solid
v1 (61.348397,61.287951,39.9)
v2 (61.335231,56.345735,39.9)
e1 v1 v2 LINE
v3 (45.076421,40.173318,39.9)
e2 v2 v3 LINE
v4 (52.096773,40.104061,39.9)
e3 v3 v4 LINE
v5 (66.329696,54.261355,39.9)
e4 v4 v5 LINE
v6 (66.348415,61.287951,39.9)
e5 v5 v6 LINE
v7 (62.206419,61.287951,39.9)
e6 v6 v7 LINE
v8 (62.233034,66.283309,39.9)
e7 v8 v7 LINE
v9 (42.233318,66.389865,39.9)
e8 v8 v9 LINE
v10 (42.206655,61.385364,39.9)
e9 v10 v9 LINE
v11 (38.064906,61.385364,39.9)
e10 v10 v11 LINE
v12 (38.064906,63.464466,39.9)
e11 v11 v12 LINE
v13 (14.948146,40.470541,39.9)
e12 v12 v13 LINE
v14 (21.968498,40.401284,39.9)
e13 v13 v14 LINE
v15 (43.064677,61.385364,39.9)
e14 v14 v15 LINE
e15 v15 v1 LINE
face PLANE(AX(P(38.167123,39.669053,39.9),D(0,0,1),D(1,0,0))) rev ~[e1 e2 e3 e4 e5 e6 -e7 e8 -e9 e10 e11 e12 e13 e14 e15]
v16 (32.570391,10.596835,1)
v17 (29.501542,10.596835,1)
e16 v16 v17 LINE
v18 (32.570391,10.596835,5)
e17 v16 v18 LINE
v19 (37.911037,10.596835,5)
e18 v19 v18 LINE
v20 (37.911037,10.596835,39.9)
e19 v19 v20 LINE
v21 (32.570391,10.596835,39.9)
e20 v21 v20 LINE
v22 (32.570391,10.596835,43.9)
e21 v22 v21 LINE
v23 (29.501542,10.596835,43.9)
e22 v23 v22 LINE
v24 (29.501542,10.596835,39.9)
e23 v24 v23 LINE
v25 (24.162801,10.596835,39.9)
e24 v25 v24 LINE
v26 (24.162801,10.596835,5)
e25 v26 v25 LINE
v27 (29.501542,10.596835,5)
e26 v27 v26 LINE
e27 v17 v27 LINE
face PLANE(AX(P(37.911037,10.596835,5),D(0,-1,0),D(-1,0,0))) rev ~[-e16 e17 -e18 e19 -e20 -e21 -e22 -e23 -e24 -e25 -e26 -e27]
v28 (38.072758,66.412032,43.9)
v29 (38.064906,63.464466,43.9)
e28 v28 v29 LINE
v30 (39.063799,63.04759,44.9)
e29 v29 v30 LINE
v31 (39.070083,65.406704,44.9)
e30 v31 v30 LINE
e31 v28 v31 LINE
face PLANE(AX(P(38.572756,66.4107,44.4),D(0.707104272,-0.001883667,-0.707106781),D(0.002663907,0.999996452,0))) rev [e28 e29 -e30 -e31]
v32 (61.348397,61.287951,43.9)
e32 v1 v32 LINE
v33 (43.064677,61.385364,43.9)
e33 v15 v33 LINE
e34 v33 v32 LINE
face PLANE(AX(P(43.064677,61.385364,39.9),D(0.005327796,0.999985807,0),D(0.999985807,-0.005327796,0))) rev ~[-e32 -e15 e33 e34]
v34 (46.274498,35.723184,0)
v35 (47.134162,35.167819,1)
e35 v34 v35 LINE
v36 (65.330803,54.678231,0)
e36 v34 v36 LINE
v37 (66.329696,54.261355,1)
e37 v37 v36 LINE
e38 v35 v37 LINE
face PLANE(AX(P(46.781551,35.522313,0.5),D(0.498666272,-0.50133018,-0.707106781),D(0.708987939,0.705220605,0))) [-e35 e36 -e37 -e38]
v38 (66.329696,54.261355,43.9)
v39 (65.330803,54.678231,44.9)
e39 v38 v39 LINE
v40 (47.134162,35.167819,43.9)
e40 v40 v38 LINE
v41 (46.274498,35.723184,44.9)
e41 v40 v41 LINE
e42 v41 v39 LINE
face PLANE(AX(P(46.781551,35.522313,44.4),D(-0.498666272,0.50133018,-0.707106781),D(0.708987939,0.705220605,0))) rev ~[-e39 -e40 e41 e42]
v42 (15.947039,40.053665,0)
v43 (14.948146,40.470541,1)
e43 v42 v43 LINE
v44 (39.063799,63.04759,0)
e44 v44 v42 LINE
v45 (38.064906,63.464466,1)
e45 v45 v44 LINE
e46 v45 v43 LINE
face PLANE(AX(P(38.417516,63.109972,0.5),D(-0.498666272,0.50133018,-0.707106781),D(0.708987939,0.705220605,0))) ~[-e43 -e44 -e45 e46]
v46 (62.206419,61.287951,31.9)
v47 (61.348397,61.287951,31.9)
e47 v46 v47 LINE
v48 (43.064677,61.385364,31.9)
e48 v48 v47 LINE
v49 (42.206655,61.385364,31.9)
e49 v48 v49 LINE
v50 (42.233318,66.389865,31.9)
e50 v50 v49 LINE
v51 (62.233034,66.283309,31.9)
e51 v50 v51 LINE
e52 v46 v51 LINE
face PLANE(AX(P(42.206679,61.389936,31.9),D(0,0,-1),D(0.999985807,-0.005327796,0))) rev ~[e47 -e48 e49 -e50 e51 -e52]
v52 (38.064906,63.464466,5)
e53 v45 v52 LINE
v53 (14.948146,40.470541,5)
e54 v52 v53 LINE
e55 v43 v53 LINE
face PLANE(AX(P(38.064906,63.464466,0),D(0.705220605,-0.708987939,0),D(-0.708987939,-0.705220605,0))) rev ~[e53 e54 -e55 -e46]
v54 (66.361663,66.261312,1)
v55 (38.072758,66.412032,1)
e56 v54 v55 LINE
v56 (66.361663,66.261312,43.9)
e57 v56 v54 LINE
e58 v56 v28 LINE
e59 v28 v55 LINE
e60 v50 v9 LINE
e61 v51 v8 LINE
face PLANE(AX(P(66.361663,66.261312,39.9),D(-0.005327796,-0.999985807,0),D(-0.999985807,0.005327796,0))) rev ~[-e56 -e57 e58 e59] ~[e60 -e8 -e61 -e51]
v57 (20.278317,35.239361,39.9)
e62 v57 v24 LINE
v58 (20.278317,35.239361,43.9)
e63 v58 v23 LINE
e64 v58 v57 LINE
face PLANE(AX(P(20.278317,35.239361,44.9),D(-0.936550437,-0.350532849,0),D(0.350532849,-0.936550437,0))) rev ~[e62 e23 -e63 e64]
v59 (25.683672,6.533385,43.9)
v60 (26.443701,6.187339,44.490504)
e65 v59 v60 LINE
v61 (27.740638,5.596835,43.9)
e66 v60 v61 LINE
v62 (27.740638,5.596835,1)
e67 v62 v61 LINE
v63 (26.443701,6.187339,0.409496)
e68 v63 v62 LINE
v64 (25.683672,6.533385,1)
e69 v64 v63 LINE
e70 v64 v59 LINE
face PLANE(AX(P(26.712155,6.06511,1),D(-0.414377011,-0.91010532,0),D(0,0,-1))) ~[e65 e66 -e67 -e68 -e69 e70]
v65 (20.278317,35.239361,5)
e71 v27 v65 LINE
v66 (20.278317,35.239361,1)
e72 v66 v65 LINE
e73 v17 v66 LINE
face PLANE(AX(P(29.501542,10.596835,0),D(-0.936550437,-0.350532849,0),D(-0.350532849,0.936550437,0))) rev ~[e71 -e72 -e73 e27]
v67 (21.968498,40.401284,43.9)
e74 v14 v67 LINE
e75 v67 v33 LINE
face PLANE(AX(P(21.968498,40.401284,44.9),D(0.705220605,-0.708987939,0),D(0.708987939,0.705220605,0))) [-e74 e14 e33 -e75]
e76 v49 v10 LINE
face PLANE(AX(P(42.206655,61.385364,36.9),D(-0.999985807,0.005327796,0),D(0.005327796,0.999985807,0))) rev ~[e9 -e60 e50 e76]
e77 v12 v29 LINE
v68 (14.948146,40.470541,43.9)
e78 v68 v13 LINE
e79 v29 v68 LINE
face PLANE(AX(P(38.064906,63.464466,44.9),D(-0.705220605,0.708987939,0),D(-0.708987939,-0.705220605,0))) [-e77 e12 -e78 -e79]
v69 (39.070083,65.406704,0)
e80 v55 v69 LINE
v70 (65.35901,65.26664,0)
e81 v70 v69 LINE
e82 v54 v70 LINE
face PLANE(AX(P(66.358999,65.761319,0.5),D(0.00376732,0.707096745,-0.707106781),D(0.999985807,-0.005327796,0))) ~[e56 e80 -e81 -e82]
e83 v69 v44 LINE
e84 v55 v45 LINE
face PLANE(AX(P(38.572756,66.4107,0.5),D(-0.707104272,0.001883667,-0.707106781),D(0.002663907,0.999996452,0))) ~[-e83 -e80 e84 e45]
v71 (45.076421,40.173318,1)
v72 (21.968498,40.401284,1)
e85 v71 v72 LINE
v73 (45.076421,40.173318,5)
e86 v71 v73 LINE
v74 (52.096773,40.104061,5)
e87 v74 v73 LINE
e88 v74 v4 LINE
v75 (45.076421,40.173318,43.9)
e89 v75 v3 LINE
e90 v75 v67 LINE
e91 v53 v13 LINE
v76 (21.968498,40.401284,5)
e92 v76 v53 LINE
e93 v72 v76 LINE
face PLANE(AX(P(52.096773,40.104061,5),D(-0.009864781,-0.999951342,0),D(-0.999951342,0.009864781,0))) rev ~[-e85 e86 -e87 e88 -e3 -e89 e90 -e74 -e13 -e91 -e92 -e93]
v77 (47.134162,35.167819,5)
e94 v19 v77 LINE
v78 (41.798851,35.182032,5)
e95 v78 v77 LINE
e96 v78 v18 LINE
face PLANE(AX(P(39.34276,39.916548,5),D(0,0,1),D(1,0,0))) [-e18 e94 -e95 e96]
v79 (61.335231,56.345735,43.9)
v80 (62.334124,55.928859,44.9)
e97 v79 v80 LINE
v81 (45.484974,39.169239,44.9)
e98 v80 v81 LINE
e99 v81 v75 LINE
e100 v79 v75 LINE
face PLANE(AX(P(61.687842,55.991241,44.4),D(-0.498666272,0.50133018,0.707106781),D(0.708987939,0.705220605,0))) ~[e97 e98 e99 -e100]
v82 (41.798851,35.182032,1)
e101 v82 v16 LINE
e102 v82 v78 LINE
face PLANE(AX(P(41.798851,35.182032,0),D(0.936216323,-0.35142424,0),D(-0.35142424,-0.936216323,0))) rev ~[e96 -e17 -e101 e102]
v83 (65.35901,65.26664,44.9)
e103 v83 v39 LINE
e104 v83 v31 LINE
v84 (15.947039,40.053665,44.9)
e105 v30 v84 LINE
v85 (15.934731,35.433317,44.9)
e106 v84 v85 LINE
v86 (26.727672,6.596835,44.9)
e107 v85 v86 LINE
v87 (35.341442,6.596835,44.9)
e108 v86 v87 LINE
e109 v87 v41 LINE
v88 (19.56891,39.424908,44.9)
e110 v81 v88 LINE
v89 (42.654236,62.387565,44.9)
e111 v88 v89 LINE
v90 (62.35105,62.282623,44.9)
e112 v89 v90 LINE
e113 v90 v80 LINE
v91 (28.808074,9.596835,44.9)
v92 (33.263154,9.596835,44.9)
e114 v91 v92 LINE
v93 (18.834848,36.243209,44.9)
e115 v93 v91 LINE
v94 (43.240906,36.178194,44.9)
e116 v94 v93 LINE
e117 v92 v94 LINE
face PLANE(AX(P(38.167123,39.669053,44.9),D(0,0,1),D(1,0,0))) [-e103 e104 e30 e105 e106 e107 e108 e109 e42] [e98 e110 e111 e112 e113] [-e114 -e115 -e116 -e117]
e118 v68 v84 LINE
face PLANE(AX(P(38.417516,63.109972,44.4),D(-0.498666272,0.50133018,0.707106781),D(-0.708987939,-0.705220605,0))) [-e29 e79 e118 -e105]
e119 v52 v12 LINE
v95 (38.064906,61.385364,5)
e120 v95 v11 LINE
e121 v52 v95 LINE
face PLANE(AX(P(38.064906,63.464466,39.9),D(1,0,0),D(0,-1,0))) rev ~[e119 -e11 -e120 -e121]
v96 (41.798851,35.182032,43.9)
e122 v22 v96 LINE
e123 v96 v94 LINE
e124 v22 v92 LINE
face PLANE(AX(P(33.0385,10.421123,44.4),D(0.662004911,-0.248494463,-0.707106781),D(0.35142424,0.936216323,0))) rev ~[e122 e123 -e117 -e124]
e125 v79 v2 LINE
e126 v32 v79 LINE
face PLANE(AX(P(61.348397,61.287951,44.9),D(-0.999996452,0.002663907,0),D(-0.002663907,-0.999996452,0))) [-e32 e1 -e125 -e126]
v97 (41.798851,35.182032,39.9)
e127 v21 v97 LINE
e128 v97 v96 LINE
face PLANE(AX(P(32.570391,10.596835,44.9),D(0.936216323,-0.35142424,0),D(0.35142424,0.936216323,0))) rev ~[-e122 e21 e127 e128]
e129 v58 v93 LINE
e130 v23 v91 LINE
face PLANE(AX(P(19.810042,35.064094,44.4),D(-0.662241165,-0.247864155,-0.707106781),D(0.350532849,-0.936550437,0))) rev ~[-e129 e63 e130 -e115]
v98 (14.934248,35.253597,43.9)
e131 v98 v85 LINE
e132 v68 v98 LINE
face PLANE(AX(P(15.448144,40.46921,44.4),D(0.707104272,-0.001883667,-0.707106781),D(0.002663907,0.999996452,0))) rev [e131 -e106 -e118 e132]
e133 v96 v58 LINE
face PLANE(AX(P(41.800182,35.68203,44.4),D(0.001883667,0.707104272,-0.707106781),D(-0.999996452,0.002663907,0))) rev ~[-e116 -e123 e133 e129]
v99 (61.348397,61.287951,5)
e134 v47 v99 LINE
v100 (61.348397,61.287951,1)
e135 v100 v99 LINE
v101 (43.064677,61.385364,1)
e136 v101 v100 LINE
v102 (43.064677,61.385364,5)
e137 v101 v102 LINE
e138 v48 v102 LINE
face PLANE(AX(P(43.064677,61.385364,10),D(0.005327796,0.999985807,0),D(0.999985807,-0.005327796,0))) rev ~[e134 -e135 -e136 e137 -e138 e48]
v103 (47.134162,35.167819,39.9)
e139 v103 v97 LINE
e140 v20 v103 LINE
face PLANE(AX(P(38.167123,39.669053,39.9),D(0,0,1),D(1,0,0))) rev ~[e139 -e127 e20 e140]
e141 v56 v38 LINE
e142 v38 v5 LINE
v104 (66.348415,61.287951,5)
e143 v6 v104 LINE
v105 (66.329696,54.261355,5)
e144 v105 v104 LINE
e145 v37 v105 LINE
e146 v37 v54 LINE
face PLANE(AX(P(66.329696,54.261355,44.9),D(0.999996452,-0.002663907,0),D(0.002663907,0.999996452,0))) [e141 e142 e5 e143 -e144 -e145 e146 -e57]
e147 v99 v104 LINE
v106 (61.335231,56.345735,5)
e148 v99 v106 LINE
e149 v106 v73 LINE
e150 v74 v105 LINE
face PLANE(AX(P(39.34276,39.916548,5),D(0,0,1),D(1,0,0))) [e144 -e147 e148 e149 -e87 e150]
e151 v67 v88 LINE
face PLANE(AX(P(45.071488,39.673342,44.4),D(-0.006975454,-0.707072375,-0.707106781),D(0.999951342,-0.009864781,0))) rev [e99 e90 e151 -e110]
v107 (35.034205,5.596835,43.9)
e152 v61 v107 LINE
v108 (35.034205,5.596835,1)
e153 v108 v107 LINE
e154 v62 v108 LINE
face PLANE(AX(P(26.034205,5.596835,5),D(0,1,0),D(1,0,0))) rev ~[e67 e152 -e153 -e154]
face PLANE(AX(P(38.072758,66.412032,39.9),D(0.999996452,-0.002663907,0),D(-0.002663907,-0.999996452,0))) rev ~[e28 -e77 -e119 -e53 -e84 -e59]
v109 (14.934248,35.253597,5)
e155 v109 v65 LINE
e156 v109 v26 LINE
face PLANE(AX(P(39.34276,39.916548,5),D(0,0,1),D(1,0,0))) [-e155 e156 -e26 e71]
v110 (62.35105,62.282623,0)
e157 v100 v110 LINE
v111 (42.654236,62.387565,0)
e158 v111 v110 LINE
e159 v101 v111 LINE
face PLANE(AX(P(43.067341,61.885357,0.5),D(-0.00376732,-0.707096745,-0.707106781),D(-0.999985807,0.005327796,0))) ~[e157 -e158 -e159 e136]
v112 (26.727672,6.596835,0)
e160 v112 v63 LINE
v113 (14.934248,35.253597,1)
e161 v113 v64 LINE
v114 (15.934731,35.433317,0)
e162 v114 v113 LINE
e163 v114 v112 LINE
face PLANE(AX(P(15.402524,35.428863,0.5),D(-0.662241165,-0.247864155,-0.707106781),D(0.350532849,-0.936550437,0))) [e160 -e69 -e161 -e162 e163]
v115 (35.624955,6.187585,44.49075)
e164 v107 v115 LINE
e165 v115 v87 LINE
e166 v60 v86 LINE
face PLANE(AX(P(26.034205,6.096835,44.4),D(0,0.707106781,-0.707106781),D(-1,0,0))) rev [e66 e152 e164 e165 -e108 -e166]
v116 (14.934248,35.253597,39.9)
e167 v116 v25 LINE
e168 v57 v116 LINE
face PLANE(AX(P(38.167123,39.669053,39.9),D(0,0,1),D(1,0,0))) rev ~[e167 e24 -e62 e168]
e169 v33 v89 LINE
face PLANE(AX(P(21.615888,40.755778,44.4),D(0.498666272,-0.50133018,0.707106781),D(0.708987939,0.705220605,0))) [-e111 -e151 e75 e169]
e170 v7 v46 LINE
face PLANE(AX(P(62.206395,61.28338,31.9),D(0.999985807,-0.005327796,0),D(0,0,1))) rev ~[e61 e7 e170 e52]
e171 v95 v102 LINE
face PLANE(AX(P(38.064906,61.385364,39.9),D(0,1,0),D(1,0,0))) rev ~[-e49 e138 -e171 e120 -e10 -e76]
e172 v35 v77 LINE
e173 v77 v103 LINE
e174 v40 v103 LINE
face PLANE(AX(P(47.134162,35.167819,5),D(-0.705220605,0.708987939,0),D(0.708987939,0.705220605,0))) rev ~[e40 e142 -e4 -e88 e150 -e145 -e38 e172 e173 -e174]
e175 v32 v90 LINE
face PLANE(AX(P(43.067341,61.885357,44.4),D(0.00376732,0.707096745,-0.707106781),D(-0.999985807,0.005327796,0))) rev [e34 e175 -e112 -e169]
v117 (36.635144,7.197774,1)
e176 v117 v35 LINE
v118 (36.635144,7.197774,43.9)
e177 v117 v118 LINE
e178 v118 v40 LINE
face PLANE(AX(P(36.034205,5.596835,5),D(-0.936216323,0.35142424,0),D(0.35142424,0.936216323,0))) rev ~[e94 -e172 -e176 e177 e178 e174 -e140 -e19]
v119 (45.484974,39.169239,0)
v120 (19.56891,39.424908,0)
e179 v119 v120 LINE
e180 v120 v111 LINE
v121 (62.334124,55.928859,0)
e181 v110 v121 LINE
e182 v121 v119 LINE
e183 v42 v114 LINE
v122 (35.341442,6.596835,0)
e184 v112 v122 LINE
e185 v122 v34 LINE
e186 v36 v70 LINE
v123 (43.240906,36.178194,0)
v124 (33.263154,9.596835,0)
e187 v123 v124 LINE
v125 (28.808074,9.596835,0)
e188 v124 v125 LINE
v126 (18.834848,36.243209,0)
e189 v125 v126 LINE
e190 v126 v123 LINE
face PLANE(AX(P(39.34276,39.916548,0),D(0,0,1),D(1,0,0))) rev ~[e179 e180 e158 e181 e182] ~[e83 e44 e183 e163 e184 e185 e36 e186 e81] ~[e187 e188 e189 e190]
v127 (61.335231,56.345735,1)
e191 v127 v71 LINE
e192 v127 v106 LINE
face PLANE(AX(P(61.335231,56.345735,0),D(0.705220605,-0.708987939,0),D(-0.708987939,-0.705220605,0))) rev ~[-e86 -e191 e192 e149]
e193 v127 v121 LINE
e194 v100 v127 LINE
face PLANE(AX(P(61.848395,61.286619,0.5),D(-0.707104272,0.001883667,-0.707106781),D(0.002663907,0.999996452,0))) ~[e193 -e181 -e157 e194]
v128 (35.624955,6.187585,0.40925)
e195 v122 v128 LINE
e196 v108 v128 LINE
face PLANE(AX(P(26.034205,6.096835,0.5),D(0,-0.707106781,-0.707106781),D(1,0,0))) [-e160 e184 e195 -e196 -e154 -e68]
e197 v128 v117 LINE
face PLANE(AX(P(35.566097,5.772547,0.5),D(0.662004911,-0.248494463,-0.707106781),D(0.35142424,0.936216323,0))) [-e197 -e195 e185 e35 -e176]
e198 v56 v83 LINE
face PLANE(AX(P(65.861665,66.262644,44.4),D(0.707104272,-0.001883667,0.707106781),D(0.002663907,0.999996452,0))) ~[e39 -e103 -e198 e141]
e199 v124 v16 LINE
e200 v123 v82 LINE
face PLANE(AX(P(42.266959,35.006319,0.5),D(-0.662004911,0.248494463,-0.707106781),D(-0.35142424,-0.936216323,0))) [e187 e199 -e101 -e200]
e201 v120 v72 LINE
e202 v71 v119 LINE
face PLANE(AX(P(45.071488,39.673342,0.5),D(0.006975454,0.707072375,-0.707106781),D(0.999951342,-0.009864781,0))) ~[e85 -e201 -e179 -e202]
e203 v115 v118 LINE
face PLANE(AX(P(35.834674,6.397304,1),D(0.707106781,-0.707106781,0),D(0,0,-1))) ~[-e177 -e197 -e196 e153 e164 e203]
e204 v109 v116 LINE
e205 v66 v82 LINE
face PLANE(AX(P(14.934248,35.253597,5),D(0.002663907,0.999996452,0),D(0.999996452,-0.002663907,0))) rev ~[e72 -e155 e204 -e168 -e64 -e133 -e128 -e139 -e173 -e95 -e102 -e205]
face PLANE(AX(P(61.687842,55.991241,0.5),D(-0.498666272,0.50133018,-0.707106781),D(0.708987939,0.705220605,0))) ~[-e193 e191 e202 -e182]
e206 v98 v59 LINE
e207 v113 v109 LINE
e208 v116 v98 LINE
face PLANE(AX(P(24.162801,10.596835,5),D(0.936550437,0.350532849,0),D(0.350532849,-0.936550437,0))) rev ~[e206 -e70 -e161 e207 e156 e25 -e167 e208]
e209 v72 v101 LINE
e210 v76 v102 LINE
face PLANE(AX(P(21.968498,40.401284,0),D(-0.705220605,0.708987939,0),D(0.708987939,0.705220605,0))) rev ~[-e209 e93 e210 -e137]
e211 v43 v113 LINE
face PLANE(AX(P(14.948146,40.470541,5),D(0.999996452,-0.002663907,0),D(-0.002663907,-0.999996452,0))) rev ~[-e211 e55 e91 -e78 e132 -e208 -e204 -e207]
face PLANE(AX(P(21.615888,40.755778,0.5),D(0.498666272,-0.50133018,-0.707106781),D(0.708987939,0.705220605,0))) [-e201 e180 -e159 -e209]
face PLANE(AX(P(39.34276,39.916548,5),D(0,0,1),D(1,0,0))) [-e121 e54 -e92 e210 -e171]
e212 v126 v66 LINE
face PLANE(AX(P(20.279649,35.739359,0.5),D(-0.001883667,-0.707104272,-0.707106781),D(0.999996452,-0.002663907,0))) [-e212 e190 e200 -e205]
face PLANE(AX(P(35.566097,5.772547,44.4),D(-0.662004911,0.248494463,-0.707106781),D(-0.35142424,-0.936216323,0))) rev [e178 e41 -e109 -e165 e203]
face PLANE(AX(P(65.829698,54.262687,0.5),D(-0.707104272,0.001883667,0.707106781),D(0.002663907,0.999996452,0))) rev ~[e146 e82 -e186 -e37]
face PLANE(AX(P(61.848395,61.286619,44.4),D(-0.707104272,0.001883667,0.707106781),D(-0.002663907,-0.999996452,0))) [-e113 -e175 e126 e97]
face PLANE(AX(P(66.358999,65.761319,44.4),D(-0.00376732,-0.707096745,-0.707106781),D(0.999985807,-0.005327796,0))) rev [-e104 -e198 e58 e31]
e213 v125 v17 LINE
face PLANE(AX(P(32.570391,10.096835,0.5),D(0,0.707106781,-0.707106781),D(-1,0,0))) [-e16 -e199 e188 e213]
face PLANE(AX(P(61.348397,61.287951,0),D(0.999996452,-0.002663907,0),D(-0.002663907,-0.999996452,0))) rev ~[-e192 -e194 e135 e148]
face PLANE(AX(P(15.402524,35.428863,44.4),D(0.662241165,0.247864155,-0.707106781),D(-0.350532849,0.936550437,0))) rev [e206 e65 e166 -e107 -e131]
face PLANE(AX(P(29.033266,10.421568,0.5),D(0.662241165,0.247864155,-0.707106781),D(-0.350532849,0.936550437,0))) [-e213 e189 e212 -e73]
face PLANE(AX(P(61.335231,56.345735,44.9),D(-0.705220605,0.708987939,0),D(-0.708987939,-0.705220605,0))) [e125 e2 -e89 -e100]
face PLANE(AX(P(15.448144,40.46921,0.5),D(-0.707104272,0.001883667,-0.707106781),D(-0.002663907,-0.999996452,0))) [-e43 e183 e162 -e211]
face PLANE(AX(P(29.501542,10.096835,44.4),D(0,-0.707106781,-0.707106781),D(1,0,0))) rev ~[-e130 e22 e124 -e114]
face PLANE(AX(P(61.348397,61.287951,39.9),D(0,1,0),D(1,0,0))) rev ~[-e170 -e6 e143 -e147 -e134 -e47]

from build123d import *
from OCP.BRepFilletAPI import BRepFilletAPI_MakeChamfer

# Parameters (mm, degrees)
BOSS_EXTRUDE1_DEPTH  = 5
BOSS_EXTRUDE3_DEPTH  = 5
BOSS_EXTRUDE4_DEPTH  = 26.9
SKETCH5_W            = 19.999999999999993
SKETCH5_H            = 5.000000000000007
CUT_EXTRUDE2_DEPTH   = 5.899999999999998
CUT_EXTRUDE3_DEPTH   = 2.949999999999999
BOSS_EXTRUDE5_DEPTH  = 3
BOSS_EXTRUDE6_DEPTH  = 5
BOSS_EXTRUDE7_DEPTH  = 5
BOSS_EXTRUDE8_DEPTH  = 35.00000000000001
BOSS_EXTRUDE10_DEPTH = 35.00000000000001
CHAMFER2_SIZE        = 1
CHAMFER3_SIZE        = 1
CHAMFER3_SIZE2       = 1.7100094702429673
CHAMFER3_SIZE2_2     = 1.7064334239442103


with BuildPart() as part:
    # Model → Boss-Extrude1 (new body)
    with BuildSketch(Plane.XY):
        Polygon((66.34301586992632, 59.26133691593834), (66.3616632211768, 66.2613120784865), (38.072757817888686, 66.41203172728402), (38.064905748927345, 63.464466308167324), (14.948145869822214, 40.47054145556226), (14.934248363068548, 35.253596657867014), (26.03420495541168, 5.596834863804027), (36.03420495541168, 5.596834863804027), (47.134161547754815, 35.167818769025025), (66.32969633331885, 54.261354656975335), align=None)
        Polygon((20.278317449078216, 35.23936050258937), (41.79885052391343, 35.18203159355395), (32.57039139015228, 10.596834863804013), (29.501541711242254, 10.596834863804041), align=None, mode=Mode.SUBTRACT)
        Polygon((43.06467722097951, 61.38536445785425), (61.3483968604827, 61.28795115170147), (61.3352312070632, 56.345734656870185), (45.076420621075016, 40.17331816069535), (21.96849830021793, 40.4012838462993), align=None, mode=Mode.SUBTRACT)
    extrude(amount=BOSS_EXTRUDE1_DEPTH)

    # Sketch3 → Boss-Extrude3 (add)
    with BuildSketch(Plane.XY.offset(5)):
        Polygon((66.36166322117678, 66.2613120784865), (38.072757817888686, 66.41203172728402), (38.064905748927345, 63.464466308167324), (38.064905748927345, 61.38536445785425), (43.06467722097951, 61.38536445785425), (61.3483968604827, 61.28795115170147), (66.34841460158263, 61.28795115170147), align=None)
    extrude(amount=BOSS_EXTRUDE3_DEPTH)

    # Sketch4 → Boss-Extrude4 (add)
    with BuildSketch(Plane.XY.offset(10)):
        Polygon((66.34841460158263, 61.28795115170147), (66.36166322117678, 66.2613120784865), (38.072757817888686, 66.41203172728402), (38.064905748927345, 63.464466308167324), (38.064905748927345, 61.38536445785425), (43.06467722097951, 61.38536445785425), (61.3483968604827, 61.28795115170147), align=None)
    extrude(amount=BOSS_EXTRUDE4_DEPTH)

    # Sketch5 → Cut-Extrude2 (cut)
    with BuildSketch(Plane(origin=(0.3282664498542539, 61.613058556670126, 0), x_dir=(0.999985807195565, -0.005327795738801082, 0), z_dir=(-0.005327795738801082, -0.999985807195565, 0))):
        with Locations((51.87900689947605, 34.400000000000006)):
            Rectangle(SKETCH5_W, SKETCH5_H)
    extrude(amount=-CUT_EXTRUDE2_DEPTH, mode=Mode.SUBTRACT)

    # Sketch7 → Cut-Extrude3 (cut, symmetric)
    with BuildSketch(Plane(origin=(0.32826644985427067, 61.61305855667014, 0), x_dir=(0.999985807195565, -0.005327795738801352, 0), z_dir=(0.005327795738801352, 0.999985807195565, 0))):
        Polygon((42.73701732925542, -31.9), (41.87900689947603, -31.9), (41.87900689947603, -36.900000000000006), (42.73701732945169, -36.900000000000006), align=None)
    extrude(amount=CUT_EXTRUDE3_DEPTH, both=True, mode=Mode.SUBTRACT)

    # Sketch8 → Boss-Extrude5 (add)
    with BuildSketch(Plane.XY.offset(36.900000000000006)):
        Polygon((38.064905748927345, 61.38536445785425), (42.20665461345415, 61.385364457854244), (42.23331794746946, 66.38986479814373), (38.072757817888686, 66.41203172728402), (38.064905748927345, 63.464466308167324), align=None)
        Polygon((66.36166322117678, 66.2613120784865), (62.23303409138075, 66.28330888336767), (62.20641946800804, 61.28795115170146), (66.34841460158263, 61.28795115170147), align=None)
    extrude(amount=BOSS_EXTRUDE5_DEPTH)

    # Sketch9 → Boss-Extrude6 (add)
    with BuildSketch(Plane.XY.offset(39.900000000000006)):
        Polygon((62.233034091380745, 66.28330888336767), (42.23331794746946, 66.38986479814372), (42.20665461345415, 61.38536445785425), (43.064677220980606, 61.38536445785425), (61.3483968604827, 61.28795115170147), (62.20641946800805, 61.28795115170147), align=None)
        Polygon((42.23331794746946, 66.38986479814373), (38.072757817888686, 66.41203172728402), (38.064905748927345, 63.464466308167324), (38.064905748927345, 61.38536445785425), (42.20665461345415, 61.385364457854244), align=None)
        Polygon((62.20641946800804, 61.28795115170146), (66.34841460158263, 61.28795115170147), (66.36166322117678, 66.2613120784865), (62.23303409138075, 66.28330888336767), align=None)
    extrude(amount=BOSS_EXTRUDE6_DEPTH)

    # Sketch10 → Boss-Extrude7 (add)
    with BuildSketch(Plane.XY.offset(44.900000000000006)):
        Polygon((66.34841460158262, 61.28795115170147), (61.3483968604827, 61.28795115170147), (61.3352312070632, 56.34573465687018), (45.076420621075016, 40.17331816069535), (21.968498300217927, 40.4012838462993), (43.06467722097951, 61.38536445785425), (38.064905748927345, 61.38536445785425), (38.064905748927345, 63.464466308167324), (14.948145869822214, 40.470541455562255), (14.934248363068548, 35.25359665786701), (26.03420495541168, 5.596834863804027), (36.03420495541168, 5.596834863804027), (47.134161547754815, 35.16781876902502), (66.32969633331884, 54.261354656975335), align=None)
        Polygon((29.50154171124225, 10.596834863804041), (32.57039139015229, 10.596834863804013), (41.79885052391343, 35.18203159355396), (20.278317449078216, 35.23936050258938), align=None, mode=Mode.SUBTRACT)
    extrude(amount=-BOSS_EXTRUDE7_DEPTH)

    # Sketch11 → Boss-Extrude8 (add)
    with BuildSketch(Plane.XY.offset(5)):
        Polygon((24.162800944848858, 10.596834863804041), (26.03420495541168, 5.596834863804027), (36.03420495541168, 5.596834863804027), (37.91103743212602, 10.596834863804041), align=None)
    extrude(amount=BOSS_EXTRUDE8_DEPTH)

    # Sketch12 → Boss-Extrude10 (add)
    with BuildSketch(Plane.XY.offset(5)):
        Polygon((52.096773051470755, 40.1040605514324), (14.948145869822214, 40.470541455562255), (14.934248363068548, 35.25359665786701), (47.134161547754815, 35.16781876902502), align=None)
    extrude(amount=BOSS_EXTRUDE10_DEPTH)

    # Chamfer2
    chamfer2_edges = [part.edges().sort_by_distance(p)[0] for p in [
        (52.217210519532735, 66.33667190288526, 44.900000000000006),
        (38.068831783408015, 64.93824901772567, 44.900000000000006),
        (52.206537040731654, 61.33665780477786, 44.900000000000006),
        (66.34567977724781, 60.26133336773091, 44.900000000000006),
        (20.484226659240115, 20.42521576083552, 0),
        (14.94119711644538, 37.86206905671464, 0),
        (26.50652580937478, 51.9675038818648, 0),
        (38.068831783408015, 64.93824901772567, 0),
        (61.34181403377295, 58.81684290428582, 44.900000000000006),
        (53.20582591406911, 48.25952640878276, 44.900000000000006),
        (33.52245946064647, 40.287301003497326, 44.900000000000006),
        (32.51658776059872, 50.89332415207677, 44.900000000000006),
        (52.21721051953274, 66.33667190288526, 0),
        (26.50652580937478, 51.967503881864786, 44.900000000000006),
        (14.94119711644538, 37.86206905671463, 44.900000000000006),
        (20.484226659240115, 20.425215760835517, 44.900000000000006),
        (31.03420495541168, 5.596834863804027, 44.900000000000006),
        (41.58418325158325, 20.382326816414523, 44.900000000000006),
        (56.731928940536825, 44.71458671300017, 44.900000000000006),
        (24.889929580160235, 22.91809768319671, 44.900000000000006),
        (31.038583986495823, 35.21069604807167, 44.900000000000006),
        (37.18462095703286, 22.889433228678985, 44.900000000000006),
        (31.035966550697268, 10.596834863804027, 44.900000000000006),
        (66.34567977724782, 60.26133336773091, 0),
        (56.73192894053683, 44.71458671300018, 0),
        (41.58418325158325, 20.382326816414526, 0),
        (31.03420495541168, 5.596834863804027, 0),
        (53.20582591406911, 48.25952640878277, 0),
        (61.34181403377295, 58.81684290428583, 0),
        (52.20653704073111, 61.33665780477786, 0),
        (32.516587760598725, 50.89332415207678, 0),
        (33.52245946064647, 40.287301003497326, 0),
        (37.184620957032855, 22.889433228678982, 0),
        (31.038583986495823, 35.21069604807166, 0),
        (24.889929580160235, 22.918097683196706, 0),
        (31.035966550697268, 10.596834863804027, 0),
    ]]
    chamfer(chamfer2_edges, length=CHAMFER2_SIZE)

    # Chamfer3: one chamfer whose edges measure the first distance from different faces: ONE call of the kernel's chamfer builder (chamfer() names one face for all edges)
    chamfer3_edges_1 = [part.edges().sort_by_distance(p)[0] for p in [
        (36.03420495541168, 5.596834863804027, 22.450000000000003),
    ]]
    chamfer3_side_1 = [part.faces().sort_by_distance(p)[0] for p in [
        (31.03420495541168, 5.596834863804027, 22.450000000000003),
    ]]
    chamfer3_edges_2 = [part.edges().sort_by_distance(p)[0] for p in [
        (26.03420495541168, 5.596834863804027, 22.450000000000003),
    ]]
    chamfer3_side_2 = [part.faces().sort_by_distance(p)[0] for p in [
        (15.121156427701985, 34.75421741218178, 3),
    ]]
    chamfer3 = BRepFilletAPI_MakeChamfer(part.part.solid().wrapped)
    for e in chamfer3_edges_1:
        chamfer3.Add(CHAMFER3_SIZE, CHAMFER3_SIZE2, e.wrapped, chamfer3_side_1[0].wrapped)  # the first distance lies on this face
    for e in chamfer3_edges_2:
        chamfer3.Add(CHAMFER3_SIZE, CHAMFER3_SIZE2_2, e.wrapped, chamfer3_side_2[0].wrapped)  # the first distance lies on this face
    add(Compound.cast(chamfer3.Shape()), mode=Mode.REPLACE)


solid = part.part
